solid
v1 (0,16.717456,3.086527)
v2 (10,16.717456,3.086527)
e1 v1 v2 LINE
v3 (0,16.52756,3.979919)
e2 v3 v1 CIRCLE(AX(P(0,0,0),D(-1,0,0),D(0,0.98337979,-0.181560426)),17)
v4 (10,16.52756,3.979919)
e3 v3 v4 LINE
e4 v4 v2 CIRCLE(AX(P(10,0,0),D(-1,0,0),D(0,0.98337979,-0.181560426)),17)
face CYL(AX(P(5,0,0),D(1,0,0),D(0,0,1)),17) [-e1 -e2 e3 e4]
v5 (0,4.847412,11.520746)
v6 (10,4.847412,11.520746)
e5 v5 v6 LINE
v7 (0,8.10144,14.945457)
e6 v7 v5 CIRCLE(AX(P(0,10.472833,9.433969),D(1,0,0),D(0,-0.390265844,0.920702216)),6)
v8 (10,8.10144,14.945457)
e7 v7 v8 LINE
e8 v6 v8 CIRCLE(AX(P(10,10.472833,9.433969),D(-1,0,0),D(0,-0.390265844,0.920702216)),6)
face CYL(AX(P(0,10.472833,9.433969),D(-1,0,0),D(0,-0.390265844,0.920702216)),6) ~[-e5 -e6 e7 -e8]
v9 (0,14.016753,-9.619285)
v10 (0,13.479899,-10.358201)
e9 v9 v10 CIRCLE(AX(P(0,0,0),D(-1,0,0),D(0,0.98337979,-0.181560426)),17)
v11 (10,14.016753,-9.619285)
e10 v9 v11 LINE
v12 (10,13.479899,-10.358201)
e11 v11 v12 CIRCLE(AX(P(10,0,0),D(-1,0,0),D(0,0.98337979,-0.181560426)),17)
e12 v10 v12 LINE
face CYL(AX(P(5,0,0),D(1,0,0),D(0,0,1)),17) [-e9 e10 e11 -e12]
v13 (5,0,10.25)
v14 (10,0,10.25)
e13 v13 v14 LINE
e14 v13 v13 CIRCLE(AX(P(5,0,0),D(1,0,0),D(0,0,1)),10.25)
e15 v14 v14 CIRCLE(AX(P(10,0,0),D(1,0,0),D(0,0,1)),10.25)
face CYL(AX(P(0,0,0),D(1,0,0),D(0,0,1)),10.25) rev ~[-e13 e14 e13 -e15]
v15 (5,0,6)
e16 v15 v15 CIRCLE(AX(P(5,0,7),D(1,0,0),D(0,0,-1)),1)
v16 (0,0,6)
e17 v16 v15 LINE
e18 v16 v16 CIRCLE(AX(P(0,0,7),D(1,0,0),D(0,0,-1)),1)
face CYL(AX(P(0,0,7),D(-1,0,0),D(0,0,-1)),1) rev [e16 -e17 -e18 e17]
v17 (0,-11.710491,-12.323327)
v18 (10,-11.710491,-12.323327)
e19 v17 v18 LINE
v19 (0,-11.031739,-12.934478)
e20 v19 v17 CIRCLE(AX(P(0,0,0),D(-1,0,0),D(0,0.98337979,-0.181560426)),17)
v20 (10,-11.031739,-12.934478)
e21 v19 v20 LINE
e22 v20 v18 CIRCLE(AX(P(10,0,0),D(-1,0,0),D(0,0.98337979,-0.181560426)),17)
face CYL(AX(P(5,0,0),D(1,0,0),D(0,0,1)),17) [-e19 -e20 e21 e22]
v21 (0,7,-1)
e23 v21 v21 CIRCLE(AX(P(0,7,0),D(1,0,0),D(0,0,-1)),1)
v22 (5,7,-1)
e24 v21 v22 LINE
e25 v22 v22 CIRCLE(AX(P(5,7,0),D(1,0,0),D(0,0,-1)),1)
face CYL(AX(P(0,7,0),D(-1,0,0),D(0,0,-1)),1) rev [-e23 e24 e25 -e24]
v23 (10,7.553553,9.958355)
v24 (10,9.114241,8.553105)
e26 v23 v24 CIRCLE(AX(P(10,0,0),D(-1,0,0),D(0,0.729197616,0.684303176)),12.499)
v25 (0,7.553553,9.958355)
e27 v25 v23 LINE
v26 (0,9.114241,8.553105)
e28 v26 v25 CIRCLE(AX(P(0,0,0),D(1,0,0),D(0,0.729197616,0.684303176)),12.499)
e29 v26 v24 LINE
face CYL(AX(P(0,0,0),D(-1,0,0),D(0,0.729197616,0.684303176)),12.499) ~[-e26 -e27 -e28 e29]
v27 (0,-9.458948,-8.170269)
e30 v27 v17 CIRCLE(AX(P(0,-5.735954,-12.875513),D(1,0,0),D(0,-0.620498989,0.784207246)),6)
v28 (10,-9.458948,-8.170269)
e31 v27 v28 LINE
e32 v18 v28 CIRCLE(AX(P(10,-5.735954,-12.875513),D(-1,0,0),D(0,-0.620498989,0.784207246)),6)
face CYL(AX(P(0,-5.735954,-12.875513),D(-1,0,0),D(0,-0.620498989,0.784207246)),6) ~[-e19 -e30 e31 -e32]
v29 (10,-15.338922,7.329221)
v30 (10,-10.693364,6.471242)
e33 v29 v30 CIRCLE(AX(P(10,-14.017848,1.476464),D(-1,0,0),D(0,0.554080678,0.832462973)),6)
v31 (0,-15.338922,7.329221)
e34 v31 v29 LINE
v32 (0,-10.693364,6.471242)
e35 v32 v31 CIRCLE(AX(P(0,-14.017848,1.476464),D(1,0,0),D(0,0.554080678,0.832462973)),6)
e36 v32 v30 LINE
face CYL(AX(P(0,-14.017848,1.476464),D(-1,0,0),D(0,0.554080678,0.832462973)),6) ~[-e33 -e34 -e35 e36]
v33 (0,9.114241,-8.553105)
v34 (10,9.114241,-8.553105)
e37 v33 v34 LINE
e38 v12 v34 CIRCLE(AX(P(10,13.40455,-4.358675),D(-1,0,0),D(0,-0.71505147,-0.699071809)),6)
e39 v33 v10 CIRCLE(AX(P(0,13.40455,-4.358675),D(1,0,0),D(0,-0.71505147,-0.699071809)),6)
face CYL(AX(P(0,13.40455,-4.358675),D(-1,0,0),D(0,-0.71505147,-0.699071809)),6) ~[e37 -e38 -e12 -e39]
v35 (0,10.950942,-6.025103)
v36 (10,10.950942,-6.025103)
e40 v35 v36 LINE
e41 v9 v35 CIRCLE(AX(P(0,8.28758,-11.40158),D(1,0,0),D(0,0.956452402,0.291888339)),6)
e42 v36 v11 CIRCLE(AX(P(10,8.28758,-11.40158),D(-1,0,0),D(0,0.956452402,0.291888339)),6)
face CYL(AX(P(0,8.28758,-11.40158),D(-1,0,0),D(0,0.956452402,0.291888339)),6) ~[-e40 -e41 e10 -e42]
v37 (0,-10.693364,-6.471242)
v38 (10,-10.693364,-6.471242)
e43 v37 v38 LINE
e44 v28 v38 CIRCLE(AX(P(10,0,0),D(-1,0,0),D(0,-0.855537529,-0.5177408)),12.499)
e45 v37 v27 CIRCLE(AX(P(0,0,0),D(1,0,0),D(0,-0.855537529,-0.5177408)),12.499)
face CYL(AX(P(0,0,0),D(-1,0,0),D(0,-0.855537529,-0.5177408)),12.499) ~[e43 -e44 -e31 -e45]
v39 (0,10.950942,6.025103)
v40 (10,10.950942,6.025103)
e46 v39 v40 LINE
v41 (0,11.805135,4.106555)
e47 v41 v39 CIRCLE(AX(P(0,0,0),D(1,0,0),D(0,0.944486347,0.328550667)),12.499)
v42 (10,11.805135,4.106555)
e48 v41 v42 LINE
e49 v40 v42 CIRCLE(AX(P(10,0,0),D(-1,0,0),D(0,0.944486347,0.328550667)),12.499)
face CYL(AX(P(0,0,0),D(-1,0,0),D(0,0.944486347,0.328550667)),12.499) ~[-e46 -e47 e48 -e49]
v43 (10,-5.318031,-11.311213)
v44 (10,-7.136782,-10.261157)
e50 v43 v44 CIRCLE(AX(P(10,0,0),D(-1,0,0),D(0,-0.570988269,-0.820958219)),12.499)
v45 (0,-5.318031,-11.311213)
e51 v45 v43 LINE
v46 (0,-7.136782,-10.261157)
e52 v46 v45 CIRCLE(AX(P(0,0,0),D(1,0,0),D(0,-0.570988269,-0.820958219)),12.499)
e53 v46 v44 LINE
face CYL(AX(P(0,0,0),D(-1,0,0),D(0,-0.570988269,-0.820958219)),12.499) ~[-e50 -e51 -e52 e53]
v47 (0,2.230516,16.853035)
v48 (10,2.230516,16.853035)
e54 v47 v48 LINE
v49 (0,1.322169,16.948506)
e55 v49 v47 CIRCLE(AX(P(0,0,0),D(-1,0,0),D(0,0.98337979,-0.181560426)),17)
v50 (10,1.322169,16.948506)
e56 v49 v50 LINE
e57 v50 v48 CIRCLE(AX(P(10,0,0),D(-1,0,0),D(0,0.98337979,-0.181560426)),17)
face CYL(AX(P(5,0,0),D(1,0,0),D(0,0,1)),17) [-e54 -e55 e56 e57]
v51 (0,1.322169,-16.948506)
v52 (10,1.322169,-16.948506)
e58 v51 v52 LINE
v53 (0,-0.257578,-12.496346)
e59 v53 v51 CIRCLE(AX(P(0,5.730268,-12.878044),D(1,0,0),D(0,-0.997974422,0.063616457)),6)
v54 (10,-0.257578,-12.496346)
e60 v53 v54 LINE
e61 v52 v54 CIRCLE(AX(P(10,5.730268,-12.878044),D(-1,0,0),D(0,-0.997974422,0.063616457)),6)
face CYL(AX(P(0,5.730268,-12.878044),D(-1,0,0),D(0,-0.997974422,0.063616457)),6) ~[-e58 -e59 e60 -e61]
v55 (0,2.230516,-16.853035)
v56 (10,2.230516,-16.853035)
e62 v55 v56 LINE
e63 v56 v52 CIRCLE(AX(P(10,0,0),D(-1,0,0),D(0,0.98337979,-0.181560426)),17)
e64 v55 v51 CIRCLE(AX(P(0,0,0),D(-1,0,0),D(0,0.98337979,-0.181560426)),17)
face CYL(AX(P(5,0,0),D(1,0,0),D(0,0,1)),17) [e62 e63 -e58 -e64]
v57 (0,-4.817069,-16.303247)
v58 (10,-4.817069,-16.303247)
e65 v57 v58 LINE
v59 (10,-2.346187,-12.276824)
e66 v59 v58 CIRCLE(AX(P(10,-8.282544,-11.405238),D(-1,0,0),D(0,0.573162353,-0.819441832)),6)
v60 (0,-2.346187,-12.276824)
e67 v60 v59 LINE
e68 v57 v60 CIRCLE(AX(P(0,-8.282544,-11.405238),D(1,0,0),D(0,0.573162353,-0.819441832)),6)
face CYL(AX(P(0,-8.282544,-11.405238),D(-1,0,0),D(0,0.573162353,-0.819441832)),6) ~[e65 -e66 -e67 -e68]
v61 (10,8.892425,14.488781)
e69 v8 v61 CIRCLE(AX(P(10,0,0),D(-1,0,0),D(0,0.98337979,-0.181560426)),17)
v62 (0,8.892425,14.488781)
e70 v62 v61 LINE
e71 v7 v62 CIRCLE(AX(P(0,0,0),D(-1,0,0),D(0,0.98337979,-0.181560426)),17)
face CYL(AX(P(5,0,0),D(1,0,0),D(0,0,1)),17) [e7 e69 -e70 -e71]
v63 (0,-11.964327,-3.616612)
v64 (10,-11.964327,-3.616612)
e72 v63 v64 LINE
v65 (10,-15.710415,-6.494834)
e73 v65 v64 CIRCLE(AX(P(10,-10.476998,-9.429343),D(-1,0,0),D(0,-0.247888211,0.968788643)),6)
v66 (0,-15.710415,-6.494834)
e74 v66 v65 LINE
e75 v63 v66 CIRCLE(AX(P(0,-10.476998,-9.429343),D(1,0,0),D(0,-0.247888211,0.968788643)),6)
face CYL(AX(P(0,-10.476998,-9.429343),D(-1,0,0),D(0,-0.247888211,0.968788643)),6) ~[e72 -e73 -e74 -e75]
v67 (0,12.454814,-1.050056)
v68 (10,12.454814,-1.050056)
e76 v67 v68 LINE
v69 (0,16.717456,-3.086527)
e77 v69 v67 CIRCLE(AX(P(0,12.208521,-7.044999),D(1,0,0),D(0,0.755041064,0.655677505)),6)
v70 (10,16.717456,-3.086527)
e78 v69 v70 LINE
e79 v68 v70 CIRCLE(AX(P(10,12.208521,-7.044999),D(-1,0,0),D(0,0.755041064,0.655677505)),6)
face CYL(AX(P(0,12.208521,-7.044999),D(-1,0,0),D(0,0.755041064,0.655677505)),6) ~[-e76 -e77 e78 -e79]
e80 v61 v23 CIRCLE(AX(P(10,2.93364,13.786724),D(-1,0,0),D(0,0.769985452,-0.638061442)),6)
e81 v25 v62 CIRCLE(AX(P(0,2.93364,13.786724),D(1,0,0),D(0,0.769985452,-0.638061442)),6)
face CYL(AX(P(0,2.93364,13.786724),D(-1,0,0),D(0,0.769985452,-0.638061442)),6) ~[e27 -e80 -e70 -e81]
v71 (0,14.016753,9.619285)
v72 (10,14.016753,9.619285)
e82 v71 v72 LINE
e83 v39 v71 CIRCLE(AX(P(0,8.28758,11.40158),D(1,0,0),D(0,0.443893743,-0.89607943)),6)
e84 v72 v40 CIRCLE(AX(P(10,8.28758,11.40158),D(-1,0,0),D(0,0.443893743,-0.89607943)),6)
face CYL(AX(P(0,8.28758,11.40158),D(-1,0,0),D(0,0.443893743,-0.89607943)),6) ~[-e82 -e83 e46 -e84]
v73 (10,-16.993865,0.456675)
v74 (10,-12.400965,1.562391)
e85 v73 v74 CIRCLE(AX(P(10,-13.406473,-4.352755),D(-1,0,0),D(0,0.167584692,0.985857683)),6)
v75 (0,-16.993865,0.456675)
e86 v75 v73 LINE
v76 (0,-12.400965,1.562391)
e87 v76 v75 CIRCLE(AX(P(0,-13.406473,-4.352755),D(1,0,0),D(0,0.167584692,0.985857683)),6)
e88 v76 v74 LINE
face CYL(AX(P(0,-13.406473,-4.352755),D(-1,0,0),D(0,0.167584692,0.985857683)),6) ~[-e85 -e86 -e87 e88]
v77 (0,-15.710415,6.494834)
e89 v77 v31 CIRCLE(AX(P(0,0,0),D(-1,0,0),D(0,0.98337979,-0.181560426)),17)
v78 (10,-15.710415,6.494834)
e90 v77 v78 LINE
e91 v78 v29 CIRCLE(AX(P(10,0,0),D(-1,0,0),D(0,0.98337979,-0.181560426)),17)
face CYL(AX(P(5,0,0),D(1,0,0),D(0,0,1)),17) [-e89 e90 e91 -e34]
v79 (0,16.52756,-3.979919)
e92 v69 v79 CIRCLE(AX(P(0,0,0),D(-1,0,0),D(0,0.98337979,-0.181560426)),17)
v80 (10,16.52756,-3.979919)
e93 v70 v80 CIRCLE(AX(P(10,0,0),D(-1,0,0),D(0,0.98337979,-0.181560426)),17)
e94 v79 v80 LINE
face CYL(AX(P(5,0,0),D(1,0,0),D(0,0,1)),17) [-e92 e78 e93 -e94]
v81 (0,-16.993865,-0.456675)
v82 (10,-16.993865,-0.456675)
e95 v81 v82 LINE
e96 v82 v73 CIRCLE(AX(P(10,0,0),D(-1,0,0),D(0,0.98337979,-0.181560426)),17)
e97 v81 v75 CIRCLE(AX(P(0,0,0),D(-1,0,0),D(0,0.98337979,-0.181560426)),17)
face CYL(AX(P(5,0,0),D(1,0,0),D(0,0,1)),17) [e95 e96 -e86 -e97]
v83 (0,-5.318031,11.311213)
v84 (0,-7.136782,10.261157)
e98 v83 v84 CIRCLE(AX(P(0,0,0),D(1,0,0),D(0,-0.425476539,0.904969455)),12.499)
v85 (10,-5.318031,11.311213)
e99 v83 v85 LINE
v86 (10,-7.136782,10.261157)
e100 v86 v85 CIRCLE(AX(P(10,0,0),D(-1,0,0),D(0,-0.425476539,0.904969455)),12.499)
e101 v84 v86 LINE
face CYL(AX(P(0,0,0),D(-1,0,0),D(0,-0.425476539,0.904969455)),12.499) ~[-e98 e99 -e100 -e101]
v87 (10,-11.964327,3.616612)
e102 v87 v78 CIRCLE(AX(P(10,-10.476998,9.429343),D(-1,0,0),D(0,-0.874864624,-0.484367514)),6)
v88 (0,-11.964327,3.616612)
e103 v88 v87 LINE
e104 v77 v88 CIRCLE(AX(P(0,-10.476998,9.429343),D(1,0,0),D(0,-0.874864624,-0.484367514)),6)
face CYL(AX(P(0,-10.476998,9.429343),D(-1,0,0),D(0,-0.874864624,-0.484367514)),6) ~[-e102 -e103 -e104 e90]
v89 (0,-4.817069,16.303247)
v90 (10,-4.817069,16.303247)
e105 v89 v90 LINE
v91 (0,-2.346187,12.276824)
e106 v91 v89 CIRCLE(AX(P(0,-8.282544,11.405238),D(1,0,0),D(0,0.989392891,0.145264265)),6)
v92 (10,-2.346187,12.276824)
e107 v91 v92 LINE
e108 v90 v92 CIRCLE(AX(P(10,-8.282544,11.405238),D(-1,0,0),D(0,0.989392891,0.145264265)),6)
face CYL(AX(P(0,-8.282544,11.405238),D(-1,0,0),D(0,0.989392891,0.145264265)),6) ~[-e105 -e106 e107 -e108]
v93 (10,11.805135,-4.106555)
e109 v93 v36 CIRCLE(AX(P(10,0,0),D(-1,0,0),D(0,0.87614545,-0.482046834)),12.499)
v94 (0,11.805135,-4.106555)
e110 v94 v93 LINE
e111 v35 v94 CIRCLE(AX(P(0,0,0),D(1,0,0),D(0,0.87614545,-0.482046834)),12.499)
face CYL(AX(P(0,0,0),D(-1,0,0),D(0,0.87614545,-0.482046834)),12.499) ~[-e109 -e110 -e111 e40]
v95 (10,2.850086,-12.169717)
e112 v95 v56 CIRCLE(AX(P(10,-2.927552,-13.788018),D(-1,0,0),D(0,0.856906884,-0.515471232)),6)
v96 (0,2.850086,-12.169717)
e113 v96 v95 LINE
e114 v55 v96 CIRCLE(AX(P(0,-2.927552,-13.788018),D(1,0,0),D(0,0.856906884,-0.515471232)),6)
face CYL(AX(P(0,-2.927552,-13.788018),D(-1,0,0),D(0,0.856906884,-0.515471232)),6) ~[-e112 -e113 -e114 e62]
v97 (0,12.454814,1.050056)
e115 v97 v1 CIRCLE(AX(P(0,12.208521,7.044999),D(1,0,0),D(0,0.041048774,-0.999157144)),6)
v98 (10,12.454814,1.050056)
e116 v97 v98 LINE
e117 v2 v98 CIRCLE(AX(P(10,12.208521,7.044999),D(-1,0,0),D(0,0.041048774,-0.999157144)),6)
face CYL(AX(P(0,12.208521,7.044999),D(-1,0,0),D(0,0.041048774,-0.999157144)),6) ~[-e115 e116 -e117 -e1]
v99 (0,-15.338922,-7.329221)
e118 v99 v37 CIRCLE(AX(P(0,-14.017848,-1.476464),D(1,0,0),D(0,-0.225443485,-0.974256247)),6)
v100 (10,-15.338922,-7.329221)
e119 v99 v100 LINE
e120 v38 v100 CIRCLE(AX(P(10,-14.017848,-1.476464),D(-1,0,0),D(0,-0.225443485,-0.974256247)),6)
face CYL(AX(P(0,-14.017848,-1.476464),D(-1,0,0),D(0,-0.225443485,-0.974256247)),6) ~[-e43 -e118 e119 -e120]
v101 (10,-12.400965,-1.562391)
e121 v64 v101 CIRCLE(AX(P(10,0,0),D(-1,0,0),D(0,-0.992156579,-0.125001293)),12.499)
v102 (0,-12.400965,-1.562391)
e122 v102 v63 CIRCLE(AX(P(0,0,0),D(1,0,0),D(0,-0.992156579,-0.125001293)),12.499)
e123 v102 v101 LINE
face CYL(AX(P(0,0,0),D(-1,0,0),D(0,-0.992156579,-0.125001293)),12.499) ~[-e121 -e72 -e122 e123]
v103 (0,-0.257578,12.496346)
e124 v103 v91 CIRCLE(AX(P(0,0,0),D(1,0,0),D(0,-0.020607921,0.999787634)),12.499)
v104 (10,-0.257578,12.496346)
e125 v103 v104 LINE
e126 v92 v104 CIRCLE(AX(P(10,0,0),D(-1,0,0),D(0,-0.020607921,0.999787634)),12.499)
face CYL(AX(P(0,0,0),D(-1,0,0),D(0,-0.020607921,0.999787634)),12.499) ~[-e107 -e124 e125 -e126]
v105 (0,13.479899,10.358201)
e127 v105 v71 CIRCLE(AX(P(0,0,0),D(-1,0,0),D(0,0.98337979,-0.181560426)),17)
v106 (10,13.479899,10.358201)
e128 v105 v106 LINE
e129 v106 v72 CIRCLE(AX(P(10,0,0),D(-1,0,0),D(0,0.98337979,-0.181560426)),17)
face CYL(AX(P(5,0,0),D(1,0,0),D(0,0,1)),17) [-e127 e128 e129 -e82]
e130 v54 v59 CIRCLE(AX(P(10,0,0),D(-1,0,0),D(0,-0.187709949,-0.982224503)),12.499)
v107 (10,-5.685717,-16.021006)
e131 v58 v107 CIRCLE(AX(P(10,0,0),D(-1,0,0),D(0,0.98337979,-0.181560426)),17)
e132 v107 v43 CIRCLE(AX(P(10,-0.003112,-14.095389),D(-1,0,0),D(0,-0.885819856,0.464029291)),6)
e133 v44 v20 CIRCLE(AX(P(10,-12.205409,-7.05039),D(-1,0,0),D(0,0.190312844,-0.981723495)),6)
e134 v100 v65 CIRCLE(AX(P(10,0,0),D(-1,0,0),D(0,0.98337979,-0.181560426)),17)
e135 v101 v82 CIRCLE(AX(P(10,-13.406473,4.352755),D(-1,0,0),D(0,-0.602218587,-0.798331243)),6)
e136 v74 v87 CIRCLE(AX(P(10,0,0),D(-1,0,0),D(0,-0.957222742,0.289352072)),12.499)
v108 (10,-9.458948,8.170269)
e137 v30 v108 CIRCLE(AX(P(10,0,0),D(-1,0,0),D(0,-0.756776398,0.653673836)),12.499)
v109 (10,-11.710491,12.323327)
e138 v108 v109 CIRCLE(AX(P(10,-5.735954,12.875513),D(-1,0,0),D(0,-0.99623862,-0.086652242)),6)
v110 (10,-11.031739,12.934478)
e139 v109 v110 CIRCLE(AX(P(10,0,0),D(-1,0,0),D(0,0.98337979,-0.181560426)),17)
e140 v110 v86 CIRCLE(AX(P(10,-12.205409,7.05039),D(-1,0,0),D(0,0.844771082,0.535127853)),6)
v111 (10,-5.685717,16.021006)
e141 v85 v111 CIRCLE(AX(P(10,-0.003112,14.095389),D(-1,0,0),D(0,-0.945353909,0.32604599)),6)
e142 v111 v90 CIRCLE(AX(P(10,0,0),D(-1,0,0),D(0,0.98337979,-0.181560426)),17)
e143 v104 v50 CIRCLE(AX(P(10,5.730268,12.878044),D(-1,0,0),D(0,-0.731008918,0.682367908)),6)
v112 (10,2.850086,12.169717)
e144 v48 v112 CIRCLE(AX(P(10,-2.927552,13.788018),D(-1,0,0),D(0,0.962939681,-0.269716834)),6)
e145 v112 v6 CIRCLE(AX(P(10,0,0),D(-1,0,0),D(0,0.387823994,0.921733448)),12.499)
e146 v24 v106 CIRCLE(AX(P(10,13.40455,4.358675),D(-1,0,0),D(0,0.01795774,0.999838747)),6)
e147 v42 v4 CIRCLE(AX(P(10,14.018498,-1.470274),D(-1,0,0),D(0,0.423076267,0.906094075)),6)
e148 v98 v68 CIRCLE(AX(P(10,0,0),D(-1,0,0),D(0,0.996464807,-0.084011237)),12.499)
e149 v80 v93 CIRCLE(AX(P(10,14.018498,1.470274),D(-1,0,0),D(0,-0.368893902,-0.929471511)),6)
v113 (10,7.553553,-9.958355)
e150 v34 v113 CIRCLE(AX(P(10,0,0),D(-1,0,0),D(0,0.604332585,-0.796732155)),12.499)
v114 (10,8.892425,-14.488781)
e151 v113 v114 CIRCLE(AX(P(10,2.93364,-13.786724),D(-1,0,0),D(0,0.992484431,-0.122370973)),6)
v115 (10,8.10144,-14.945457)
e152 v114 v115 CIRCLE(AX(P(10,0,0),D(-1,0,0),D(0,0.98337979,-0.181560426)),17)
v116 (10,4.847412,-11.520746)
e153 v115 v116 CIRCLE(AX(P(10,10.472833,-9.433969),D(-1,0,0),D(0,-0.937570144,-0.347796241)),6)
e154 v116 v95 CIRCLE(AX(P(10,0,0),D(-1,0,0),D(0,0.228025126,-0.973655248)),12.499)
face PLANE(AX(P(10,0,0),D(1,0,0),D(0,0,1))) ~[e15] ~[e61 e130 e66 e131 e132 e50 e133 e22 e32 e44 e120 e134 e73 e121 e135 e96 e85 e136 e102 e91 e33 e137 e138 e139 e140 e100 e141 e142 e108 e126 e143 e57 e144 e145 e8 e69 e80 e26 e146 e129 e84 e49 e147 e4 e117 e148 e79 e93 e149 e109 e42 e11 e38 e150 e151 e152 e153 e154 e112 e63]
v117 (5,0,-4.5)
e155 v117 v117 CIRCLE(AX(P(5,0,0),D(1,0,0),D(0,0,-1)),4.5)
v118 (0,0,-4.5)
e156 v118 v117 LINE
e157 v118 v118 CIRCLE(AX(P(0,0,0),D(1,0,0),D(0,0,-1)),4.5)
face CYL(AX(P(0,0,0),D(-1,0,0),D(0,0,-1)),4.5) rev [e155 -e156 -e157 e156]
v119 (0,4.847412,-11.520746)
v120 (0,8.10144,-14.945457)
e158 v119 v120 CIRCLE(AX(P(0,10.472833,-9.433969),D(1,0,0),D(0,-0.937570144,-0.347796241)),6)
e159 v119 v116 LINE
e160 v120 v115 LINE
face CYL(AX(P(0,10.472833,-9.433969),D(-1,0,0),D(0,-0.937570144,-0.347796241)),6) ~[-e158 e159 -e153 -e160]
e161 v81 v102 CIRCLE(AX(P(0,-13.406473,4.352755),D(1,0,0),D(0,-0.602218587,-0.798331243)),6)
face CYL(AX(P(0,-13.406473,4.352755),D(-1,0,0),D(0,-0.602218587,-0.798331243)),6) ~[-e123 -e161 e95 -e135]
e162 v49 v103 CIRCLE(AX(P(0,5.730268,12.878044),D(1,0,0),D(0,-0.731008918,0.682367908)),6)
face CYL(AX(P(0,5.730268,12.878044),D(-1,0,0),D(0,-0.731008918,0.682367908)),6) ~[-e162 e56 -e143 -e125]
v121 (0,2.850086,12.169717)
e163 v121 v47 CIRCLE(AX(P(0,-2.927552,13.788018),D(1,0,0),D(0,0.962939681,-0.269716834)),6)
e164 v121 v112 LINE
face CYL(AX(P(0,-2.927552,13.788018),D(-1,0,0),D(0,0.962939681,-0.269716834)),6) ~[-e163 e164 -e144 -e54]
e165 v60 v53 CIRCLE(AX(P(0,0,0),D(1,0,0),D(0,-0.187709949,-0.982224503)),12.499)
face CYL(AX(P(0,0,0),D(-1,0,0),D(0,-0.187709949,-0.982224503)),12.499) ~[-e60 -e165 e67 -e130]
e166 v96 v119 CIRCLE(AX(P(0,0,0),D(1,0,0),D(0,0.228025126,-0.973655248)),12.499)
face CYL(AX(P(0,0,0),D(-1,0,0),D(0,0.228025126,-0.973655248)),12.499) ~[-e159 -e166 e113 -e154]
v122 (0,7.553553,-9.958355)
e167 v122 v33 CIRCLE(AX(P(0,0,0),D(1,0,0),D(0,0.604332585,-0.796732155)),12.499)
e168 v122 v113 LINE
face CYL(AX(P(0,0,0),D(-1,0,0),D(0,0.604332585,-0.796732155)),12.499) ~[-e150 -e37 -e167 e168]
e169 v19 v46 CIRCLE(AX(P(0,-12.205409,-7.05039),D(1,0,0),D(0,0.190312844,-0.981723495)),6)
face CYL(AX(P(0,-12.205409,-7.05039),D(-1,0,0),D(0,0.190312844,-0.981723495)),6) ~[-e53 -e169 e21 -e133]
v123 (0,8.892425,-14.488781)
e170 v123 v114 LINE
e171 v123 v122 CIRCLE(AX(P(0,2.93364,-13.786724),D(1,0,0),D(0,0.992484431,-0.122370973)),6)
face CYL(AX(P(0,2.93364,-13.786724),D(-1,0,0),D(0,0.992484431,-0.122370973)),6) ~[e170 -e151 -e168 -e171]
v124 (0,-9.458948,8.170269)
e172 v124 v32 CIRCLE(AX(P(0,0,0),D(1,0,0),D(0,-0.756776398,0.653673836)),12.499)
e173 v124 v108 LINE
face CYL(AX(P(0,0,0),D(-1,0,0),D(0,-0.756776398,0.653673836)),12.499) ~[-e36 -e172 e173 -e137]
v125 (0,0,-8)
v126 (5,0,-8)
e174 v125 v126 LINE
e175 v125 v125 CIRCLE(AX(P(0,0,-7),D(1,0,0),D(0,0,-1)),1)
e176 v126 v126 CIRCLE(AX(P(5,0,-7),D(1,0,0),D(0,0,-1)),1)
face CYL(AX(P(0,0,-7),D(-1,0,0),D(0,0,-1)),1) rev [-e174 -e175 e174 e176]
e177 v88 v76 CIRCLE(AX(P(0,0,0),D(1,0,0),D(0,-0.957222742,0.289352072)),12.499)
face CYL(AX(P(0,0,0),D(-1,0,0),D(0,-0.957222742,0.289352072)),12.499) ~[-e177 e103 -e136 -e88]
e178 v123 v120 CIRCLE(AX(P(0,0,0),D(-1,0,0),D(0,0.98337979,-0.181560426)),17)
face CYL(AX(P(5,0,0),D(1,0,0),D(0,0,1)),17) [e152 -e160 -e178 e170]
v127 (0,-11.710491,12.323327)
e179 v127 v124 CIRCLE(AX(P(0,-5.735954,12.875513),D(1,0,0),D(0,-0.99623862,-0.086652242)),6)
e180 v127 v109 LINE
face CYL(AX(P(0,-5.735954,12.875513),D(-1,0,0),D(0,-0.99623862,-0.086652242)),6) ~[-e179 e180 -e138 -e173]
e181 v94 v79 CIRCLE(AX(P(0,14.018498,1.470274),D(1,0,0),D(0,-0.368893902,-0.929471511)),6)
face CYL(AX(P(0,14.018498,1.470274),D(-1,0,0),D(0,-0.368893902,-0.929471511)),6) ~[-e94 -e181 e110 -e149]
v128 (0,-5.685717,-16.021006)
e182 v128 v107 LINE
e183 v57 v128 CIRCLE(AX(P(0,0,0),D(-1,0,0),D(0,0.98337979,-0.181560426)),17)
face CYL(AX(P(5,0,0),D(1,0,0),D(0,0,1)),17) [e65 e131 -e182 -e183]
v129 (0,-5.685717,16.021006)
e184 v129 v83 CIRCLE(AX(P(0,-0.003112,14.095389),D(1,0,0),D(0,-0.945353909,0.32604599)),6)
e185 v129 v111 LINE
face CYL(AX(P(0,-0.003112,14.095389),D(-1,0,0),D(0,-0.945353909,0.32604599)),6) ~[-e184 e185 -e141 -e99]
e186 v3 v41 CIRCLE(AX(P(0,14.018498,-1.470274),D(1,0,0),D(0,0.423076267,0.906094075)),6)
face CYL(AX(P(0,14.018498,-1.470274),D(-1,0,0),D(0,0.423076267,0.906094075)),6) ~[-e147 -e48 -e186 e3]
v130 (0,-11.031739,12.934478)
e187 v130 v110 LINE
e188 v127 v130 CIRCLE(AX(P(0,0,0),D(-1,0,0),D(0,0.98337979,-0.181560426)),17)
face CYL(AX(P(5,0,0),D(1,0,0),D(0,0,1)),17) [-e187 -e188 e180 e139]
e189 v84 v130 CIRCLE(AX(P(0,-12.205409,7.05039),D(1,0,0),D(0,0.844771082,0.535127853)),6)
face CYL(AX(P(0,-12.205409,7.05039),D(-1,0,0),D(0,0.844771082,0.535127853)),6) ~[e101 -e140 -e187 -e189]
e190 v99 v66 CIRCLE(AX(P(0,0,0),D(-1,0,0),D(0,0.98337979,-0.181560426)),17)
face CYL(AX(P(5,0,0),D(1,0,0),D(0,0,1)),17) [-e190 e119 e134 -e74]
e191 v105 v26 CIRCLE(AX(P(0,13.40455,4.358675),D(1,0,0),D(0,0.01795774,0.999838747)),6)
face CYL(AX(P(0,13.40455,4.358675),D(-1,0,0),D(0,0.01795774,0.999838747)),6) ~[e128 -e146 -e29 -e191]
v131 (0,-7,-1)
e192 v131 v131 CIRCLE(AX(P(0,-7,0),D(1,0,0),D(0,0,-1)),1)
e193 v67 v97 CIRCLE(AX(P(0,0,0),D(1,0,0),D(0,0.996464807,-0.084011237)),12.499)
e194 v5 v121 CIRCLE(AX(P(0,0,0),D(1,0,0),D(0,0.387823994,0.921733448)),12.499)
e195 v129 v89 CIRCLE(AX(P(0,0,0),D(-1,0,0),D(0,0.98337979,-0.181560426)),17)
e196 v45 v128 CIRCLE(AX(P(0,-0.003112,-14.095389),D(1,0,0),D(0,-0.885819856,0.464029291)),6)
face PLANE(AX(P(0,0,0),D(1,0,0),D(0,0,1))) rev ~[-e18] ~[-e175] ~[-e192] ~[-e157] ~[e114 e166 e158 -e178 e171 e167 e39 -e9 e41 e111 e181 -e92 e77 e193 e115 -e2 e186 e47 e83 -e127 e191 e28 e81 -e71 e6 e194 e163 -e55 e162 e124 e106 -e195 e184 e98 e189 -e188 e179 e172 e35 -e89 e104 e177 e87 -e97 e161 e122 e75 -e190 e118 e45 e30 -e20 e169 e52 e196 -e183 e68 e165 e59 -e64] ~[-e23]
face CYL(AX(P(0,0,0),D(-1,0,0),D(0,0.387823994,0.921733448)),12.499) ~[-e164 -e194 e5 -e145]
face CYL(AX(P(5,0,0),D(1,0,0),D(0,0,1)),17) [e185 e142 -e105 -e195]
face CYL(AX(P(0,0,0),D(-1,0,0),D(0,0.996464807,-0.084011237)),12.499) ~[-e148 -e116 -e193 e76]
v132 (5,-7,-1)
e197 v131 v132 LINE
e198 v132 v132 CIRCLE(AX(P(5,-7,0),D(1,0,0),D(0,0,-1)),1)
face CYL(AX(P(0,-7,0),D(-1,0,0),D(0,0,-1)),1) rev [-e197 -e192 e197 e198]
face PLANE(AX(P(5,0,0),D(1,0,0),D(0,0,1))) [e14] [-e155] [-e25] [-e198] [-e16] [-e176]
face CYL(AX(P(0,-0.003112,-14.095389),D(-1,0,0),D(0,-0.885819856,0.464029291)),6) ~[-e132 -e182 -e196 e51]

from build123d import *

# Parameters (mm, degrees)
BASPROSKE_W         = 10
BASPROSKE_H         = 17
TOOTHCUT_DEPTH      = 27.038433133
TEETHCUTS_COUNT     = 15
BORSKE_R            = 10.25
BORE_DEPTH          = 10
SKETCH1_R           = 10.25
SKETCH1_R_2         = 1
SKETCH1_R_3         = 4.5
BOSS_EXTRUDE1_DEPTH = 5


with BuildPart() as part:
    # BasProSke → Base-Revolve (revolve)
    with BuildSketch(Plane(origin=(0, 0, 0), x_dir=(1, 0, 0), z_dir=(0, 1, 0)), mode=Mode.PRIVATE) as base_revolve_sk:
        with Locations((5, 8.5)):
            Rectangle(BASPROSKE_W, BASPROSKE_H)
    revolve(base_revolve_sk.sketch.rotate(Axis((-10, 0, 0), (1, 0, 0)), 180), axis=Axis((-10, 0, 0), (1, 0, 0)))

    # TooCutSke → ToothCut (cut, through all)
    with BuildSketch(Plane(origin=(0, 0, 0), x_dir=(0, 0, -1), z_dir=(1, 0, 0))):
        with BuildLine():
            ThreePointArc((1.050056448, 12.454813626), (0, 12.499), (-1.050056448, 12.454813626))
            ThreePointArc((-1.050056448, 12.454813626), (-1.638118106, 14.809604533), (-3.110934279, 16.73876737))
            ThreePointArc((-3.110934279, 16.73876737), (0, 17.0254), (3.110934279, 16.73876737))
            ThreePointArc((3.110934279, 16.73876737), (1.638118106, 14.809604533), (1.050056448, 12.454813626))
        make_face()
    toothcut = extrude(amount=TOOTHCUT_DEPTH, mode=Mode.SUBTRACT)

    # TeethCuts: ToothCut ×15 about axis
    teethcuts_axis = Axis((0, 0, 0), (1, 0, 0))
    for i in range(1, TEETHCUTS_COUNT):
        add(toothcut.rotate(teethcuts_axis, i * 360 / TEETHCUTS_COUNT), mode=Mode.SUBTRACT)

    # BorSke → Bore (cut, symmetric)
    with BuildSketch(Plane(origin=(0, 0, 0), x_dir=(0, 0, -1), z_dir=(1, 0, 0))):
        with Locations(Location((0, 0, 0), (0, 0, 180))):
            Circle(BORSKE_R)
    extrude(amount=BORE_DEPTH, both=True, mode=Mode.SUBTRACT)

    # Sketch1 → Boss-Extrude1 (add)
    with BuildSketch(Plane(origin=(0, 0, 0), x_dir=(0, 0, -1), z_dir=(1, 0, 0))):
        with Locations(Location((0, 0, 0), (0, 0, 180))):
            Circle(SKETCH1_R)
        with Locations((7, 0)):
            Circle(SKETCH1_R_2, mode=Mode.SUBTRACT)
        with Locations((-7, 0)):
            Circle(SKETCH1_R_2, mode=Mode.SUBTRACT)
        with Locations((0, 7)):
            Circle(SKETCH1_R_2, mode=Mode.SUBTRACT)
        with Locations((0, -7)):
            Circle(SKETCH1_R_2, mode=Mode.SUBTRACT)
        Circle(SKETCH1_R_3, mode=Mode.SUBTRACT)
    extrude(amount=BOSS_EXTRUDE1_DEPTH)


solid = part.part
